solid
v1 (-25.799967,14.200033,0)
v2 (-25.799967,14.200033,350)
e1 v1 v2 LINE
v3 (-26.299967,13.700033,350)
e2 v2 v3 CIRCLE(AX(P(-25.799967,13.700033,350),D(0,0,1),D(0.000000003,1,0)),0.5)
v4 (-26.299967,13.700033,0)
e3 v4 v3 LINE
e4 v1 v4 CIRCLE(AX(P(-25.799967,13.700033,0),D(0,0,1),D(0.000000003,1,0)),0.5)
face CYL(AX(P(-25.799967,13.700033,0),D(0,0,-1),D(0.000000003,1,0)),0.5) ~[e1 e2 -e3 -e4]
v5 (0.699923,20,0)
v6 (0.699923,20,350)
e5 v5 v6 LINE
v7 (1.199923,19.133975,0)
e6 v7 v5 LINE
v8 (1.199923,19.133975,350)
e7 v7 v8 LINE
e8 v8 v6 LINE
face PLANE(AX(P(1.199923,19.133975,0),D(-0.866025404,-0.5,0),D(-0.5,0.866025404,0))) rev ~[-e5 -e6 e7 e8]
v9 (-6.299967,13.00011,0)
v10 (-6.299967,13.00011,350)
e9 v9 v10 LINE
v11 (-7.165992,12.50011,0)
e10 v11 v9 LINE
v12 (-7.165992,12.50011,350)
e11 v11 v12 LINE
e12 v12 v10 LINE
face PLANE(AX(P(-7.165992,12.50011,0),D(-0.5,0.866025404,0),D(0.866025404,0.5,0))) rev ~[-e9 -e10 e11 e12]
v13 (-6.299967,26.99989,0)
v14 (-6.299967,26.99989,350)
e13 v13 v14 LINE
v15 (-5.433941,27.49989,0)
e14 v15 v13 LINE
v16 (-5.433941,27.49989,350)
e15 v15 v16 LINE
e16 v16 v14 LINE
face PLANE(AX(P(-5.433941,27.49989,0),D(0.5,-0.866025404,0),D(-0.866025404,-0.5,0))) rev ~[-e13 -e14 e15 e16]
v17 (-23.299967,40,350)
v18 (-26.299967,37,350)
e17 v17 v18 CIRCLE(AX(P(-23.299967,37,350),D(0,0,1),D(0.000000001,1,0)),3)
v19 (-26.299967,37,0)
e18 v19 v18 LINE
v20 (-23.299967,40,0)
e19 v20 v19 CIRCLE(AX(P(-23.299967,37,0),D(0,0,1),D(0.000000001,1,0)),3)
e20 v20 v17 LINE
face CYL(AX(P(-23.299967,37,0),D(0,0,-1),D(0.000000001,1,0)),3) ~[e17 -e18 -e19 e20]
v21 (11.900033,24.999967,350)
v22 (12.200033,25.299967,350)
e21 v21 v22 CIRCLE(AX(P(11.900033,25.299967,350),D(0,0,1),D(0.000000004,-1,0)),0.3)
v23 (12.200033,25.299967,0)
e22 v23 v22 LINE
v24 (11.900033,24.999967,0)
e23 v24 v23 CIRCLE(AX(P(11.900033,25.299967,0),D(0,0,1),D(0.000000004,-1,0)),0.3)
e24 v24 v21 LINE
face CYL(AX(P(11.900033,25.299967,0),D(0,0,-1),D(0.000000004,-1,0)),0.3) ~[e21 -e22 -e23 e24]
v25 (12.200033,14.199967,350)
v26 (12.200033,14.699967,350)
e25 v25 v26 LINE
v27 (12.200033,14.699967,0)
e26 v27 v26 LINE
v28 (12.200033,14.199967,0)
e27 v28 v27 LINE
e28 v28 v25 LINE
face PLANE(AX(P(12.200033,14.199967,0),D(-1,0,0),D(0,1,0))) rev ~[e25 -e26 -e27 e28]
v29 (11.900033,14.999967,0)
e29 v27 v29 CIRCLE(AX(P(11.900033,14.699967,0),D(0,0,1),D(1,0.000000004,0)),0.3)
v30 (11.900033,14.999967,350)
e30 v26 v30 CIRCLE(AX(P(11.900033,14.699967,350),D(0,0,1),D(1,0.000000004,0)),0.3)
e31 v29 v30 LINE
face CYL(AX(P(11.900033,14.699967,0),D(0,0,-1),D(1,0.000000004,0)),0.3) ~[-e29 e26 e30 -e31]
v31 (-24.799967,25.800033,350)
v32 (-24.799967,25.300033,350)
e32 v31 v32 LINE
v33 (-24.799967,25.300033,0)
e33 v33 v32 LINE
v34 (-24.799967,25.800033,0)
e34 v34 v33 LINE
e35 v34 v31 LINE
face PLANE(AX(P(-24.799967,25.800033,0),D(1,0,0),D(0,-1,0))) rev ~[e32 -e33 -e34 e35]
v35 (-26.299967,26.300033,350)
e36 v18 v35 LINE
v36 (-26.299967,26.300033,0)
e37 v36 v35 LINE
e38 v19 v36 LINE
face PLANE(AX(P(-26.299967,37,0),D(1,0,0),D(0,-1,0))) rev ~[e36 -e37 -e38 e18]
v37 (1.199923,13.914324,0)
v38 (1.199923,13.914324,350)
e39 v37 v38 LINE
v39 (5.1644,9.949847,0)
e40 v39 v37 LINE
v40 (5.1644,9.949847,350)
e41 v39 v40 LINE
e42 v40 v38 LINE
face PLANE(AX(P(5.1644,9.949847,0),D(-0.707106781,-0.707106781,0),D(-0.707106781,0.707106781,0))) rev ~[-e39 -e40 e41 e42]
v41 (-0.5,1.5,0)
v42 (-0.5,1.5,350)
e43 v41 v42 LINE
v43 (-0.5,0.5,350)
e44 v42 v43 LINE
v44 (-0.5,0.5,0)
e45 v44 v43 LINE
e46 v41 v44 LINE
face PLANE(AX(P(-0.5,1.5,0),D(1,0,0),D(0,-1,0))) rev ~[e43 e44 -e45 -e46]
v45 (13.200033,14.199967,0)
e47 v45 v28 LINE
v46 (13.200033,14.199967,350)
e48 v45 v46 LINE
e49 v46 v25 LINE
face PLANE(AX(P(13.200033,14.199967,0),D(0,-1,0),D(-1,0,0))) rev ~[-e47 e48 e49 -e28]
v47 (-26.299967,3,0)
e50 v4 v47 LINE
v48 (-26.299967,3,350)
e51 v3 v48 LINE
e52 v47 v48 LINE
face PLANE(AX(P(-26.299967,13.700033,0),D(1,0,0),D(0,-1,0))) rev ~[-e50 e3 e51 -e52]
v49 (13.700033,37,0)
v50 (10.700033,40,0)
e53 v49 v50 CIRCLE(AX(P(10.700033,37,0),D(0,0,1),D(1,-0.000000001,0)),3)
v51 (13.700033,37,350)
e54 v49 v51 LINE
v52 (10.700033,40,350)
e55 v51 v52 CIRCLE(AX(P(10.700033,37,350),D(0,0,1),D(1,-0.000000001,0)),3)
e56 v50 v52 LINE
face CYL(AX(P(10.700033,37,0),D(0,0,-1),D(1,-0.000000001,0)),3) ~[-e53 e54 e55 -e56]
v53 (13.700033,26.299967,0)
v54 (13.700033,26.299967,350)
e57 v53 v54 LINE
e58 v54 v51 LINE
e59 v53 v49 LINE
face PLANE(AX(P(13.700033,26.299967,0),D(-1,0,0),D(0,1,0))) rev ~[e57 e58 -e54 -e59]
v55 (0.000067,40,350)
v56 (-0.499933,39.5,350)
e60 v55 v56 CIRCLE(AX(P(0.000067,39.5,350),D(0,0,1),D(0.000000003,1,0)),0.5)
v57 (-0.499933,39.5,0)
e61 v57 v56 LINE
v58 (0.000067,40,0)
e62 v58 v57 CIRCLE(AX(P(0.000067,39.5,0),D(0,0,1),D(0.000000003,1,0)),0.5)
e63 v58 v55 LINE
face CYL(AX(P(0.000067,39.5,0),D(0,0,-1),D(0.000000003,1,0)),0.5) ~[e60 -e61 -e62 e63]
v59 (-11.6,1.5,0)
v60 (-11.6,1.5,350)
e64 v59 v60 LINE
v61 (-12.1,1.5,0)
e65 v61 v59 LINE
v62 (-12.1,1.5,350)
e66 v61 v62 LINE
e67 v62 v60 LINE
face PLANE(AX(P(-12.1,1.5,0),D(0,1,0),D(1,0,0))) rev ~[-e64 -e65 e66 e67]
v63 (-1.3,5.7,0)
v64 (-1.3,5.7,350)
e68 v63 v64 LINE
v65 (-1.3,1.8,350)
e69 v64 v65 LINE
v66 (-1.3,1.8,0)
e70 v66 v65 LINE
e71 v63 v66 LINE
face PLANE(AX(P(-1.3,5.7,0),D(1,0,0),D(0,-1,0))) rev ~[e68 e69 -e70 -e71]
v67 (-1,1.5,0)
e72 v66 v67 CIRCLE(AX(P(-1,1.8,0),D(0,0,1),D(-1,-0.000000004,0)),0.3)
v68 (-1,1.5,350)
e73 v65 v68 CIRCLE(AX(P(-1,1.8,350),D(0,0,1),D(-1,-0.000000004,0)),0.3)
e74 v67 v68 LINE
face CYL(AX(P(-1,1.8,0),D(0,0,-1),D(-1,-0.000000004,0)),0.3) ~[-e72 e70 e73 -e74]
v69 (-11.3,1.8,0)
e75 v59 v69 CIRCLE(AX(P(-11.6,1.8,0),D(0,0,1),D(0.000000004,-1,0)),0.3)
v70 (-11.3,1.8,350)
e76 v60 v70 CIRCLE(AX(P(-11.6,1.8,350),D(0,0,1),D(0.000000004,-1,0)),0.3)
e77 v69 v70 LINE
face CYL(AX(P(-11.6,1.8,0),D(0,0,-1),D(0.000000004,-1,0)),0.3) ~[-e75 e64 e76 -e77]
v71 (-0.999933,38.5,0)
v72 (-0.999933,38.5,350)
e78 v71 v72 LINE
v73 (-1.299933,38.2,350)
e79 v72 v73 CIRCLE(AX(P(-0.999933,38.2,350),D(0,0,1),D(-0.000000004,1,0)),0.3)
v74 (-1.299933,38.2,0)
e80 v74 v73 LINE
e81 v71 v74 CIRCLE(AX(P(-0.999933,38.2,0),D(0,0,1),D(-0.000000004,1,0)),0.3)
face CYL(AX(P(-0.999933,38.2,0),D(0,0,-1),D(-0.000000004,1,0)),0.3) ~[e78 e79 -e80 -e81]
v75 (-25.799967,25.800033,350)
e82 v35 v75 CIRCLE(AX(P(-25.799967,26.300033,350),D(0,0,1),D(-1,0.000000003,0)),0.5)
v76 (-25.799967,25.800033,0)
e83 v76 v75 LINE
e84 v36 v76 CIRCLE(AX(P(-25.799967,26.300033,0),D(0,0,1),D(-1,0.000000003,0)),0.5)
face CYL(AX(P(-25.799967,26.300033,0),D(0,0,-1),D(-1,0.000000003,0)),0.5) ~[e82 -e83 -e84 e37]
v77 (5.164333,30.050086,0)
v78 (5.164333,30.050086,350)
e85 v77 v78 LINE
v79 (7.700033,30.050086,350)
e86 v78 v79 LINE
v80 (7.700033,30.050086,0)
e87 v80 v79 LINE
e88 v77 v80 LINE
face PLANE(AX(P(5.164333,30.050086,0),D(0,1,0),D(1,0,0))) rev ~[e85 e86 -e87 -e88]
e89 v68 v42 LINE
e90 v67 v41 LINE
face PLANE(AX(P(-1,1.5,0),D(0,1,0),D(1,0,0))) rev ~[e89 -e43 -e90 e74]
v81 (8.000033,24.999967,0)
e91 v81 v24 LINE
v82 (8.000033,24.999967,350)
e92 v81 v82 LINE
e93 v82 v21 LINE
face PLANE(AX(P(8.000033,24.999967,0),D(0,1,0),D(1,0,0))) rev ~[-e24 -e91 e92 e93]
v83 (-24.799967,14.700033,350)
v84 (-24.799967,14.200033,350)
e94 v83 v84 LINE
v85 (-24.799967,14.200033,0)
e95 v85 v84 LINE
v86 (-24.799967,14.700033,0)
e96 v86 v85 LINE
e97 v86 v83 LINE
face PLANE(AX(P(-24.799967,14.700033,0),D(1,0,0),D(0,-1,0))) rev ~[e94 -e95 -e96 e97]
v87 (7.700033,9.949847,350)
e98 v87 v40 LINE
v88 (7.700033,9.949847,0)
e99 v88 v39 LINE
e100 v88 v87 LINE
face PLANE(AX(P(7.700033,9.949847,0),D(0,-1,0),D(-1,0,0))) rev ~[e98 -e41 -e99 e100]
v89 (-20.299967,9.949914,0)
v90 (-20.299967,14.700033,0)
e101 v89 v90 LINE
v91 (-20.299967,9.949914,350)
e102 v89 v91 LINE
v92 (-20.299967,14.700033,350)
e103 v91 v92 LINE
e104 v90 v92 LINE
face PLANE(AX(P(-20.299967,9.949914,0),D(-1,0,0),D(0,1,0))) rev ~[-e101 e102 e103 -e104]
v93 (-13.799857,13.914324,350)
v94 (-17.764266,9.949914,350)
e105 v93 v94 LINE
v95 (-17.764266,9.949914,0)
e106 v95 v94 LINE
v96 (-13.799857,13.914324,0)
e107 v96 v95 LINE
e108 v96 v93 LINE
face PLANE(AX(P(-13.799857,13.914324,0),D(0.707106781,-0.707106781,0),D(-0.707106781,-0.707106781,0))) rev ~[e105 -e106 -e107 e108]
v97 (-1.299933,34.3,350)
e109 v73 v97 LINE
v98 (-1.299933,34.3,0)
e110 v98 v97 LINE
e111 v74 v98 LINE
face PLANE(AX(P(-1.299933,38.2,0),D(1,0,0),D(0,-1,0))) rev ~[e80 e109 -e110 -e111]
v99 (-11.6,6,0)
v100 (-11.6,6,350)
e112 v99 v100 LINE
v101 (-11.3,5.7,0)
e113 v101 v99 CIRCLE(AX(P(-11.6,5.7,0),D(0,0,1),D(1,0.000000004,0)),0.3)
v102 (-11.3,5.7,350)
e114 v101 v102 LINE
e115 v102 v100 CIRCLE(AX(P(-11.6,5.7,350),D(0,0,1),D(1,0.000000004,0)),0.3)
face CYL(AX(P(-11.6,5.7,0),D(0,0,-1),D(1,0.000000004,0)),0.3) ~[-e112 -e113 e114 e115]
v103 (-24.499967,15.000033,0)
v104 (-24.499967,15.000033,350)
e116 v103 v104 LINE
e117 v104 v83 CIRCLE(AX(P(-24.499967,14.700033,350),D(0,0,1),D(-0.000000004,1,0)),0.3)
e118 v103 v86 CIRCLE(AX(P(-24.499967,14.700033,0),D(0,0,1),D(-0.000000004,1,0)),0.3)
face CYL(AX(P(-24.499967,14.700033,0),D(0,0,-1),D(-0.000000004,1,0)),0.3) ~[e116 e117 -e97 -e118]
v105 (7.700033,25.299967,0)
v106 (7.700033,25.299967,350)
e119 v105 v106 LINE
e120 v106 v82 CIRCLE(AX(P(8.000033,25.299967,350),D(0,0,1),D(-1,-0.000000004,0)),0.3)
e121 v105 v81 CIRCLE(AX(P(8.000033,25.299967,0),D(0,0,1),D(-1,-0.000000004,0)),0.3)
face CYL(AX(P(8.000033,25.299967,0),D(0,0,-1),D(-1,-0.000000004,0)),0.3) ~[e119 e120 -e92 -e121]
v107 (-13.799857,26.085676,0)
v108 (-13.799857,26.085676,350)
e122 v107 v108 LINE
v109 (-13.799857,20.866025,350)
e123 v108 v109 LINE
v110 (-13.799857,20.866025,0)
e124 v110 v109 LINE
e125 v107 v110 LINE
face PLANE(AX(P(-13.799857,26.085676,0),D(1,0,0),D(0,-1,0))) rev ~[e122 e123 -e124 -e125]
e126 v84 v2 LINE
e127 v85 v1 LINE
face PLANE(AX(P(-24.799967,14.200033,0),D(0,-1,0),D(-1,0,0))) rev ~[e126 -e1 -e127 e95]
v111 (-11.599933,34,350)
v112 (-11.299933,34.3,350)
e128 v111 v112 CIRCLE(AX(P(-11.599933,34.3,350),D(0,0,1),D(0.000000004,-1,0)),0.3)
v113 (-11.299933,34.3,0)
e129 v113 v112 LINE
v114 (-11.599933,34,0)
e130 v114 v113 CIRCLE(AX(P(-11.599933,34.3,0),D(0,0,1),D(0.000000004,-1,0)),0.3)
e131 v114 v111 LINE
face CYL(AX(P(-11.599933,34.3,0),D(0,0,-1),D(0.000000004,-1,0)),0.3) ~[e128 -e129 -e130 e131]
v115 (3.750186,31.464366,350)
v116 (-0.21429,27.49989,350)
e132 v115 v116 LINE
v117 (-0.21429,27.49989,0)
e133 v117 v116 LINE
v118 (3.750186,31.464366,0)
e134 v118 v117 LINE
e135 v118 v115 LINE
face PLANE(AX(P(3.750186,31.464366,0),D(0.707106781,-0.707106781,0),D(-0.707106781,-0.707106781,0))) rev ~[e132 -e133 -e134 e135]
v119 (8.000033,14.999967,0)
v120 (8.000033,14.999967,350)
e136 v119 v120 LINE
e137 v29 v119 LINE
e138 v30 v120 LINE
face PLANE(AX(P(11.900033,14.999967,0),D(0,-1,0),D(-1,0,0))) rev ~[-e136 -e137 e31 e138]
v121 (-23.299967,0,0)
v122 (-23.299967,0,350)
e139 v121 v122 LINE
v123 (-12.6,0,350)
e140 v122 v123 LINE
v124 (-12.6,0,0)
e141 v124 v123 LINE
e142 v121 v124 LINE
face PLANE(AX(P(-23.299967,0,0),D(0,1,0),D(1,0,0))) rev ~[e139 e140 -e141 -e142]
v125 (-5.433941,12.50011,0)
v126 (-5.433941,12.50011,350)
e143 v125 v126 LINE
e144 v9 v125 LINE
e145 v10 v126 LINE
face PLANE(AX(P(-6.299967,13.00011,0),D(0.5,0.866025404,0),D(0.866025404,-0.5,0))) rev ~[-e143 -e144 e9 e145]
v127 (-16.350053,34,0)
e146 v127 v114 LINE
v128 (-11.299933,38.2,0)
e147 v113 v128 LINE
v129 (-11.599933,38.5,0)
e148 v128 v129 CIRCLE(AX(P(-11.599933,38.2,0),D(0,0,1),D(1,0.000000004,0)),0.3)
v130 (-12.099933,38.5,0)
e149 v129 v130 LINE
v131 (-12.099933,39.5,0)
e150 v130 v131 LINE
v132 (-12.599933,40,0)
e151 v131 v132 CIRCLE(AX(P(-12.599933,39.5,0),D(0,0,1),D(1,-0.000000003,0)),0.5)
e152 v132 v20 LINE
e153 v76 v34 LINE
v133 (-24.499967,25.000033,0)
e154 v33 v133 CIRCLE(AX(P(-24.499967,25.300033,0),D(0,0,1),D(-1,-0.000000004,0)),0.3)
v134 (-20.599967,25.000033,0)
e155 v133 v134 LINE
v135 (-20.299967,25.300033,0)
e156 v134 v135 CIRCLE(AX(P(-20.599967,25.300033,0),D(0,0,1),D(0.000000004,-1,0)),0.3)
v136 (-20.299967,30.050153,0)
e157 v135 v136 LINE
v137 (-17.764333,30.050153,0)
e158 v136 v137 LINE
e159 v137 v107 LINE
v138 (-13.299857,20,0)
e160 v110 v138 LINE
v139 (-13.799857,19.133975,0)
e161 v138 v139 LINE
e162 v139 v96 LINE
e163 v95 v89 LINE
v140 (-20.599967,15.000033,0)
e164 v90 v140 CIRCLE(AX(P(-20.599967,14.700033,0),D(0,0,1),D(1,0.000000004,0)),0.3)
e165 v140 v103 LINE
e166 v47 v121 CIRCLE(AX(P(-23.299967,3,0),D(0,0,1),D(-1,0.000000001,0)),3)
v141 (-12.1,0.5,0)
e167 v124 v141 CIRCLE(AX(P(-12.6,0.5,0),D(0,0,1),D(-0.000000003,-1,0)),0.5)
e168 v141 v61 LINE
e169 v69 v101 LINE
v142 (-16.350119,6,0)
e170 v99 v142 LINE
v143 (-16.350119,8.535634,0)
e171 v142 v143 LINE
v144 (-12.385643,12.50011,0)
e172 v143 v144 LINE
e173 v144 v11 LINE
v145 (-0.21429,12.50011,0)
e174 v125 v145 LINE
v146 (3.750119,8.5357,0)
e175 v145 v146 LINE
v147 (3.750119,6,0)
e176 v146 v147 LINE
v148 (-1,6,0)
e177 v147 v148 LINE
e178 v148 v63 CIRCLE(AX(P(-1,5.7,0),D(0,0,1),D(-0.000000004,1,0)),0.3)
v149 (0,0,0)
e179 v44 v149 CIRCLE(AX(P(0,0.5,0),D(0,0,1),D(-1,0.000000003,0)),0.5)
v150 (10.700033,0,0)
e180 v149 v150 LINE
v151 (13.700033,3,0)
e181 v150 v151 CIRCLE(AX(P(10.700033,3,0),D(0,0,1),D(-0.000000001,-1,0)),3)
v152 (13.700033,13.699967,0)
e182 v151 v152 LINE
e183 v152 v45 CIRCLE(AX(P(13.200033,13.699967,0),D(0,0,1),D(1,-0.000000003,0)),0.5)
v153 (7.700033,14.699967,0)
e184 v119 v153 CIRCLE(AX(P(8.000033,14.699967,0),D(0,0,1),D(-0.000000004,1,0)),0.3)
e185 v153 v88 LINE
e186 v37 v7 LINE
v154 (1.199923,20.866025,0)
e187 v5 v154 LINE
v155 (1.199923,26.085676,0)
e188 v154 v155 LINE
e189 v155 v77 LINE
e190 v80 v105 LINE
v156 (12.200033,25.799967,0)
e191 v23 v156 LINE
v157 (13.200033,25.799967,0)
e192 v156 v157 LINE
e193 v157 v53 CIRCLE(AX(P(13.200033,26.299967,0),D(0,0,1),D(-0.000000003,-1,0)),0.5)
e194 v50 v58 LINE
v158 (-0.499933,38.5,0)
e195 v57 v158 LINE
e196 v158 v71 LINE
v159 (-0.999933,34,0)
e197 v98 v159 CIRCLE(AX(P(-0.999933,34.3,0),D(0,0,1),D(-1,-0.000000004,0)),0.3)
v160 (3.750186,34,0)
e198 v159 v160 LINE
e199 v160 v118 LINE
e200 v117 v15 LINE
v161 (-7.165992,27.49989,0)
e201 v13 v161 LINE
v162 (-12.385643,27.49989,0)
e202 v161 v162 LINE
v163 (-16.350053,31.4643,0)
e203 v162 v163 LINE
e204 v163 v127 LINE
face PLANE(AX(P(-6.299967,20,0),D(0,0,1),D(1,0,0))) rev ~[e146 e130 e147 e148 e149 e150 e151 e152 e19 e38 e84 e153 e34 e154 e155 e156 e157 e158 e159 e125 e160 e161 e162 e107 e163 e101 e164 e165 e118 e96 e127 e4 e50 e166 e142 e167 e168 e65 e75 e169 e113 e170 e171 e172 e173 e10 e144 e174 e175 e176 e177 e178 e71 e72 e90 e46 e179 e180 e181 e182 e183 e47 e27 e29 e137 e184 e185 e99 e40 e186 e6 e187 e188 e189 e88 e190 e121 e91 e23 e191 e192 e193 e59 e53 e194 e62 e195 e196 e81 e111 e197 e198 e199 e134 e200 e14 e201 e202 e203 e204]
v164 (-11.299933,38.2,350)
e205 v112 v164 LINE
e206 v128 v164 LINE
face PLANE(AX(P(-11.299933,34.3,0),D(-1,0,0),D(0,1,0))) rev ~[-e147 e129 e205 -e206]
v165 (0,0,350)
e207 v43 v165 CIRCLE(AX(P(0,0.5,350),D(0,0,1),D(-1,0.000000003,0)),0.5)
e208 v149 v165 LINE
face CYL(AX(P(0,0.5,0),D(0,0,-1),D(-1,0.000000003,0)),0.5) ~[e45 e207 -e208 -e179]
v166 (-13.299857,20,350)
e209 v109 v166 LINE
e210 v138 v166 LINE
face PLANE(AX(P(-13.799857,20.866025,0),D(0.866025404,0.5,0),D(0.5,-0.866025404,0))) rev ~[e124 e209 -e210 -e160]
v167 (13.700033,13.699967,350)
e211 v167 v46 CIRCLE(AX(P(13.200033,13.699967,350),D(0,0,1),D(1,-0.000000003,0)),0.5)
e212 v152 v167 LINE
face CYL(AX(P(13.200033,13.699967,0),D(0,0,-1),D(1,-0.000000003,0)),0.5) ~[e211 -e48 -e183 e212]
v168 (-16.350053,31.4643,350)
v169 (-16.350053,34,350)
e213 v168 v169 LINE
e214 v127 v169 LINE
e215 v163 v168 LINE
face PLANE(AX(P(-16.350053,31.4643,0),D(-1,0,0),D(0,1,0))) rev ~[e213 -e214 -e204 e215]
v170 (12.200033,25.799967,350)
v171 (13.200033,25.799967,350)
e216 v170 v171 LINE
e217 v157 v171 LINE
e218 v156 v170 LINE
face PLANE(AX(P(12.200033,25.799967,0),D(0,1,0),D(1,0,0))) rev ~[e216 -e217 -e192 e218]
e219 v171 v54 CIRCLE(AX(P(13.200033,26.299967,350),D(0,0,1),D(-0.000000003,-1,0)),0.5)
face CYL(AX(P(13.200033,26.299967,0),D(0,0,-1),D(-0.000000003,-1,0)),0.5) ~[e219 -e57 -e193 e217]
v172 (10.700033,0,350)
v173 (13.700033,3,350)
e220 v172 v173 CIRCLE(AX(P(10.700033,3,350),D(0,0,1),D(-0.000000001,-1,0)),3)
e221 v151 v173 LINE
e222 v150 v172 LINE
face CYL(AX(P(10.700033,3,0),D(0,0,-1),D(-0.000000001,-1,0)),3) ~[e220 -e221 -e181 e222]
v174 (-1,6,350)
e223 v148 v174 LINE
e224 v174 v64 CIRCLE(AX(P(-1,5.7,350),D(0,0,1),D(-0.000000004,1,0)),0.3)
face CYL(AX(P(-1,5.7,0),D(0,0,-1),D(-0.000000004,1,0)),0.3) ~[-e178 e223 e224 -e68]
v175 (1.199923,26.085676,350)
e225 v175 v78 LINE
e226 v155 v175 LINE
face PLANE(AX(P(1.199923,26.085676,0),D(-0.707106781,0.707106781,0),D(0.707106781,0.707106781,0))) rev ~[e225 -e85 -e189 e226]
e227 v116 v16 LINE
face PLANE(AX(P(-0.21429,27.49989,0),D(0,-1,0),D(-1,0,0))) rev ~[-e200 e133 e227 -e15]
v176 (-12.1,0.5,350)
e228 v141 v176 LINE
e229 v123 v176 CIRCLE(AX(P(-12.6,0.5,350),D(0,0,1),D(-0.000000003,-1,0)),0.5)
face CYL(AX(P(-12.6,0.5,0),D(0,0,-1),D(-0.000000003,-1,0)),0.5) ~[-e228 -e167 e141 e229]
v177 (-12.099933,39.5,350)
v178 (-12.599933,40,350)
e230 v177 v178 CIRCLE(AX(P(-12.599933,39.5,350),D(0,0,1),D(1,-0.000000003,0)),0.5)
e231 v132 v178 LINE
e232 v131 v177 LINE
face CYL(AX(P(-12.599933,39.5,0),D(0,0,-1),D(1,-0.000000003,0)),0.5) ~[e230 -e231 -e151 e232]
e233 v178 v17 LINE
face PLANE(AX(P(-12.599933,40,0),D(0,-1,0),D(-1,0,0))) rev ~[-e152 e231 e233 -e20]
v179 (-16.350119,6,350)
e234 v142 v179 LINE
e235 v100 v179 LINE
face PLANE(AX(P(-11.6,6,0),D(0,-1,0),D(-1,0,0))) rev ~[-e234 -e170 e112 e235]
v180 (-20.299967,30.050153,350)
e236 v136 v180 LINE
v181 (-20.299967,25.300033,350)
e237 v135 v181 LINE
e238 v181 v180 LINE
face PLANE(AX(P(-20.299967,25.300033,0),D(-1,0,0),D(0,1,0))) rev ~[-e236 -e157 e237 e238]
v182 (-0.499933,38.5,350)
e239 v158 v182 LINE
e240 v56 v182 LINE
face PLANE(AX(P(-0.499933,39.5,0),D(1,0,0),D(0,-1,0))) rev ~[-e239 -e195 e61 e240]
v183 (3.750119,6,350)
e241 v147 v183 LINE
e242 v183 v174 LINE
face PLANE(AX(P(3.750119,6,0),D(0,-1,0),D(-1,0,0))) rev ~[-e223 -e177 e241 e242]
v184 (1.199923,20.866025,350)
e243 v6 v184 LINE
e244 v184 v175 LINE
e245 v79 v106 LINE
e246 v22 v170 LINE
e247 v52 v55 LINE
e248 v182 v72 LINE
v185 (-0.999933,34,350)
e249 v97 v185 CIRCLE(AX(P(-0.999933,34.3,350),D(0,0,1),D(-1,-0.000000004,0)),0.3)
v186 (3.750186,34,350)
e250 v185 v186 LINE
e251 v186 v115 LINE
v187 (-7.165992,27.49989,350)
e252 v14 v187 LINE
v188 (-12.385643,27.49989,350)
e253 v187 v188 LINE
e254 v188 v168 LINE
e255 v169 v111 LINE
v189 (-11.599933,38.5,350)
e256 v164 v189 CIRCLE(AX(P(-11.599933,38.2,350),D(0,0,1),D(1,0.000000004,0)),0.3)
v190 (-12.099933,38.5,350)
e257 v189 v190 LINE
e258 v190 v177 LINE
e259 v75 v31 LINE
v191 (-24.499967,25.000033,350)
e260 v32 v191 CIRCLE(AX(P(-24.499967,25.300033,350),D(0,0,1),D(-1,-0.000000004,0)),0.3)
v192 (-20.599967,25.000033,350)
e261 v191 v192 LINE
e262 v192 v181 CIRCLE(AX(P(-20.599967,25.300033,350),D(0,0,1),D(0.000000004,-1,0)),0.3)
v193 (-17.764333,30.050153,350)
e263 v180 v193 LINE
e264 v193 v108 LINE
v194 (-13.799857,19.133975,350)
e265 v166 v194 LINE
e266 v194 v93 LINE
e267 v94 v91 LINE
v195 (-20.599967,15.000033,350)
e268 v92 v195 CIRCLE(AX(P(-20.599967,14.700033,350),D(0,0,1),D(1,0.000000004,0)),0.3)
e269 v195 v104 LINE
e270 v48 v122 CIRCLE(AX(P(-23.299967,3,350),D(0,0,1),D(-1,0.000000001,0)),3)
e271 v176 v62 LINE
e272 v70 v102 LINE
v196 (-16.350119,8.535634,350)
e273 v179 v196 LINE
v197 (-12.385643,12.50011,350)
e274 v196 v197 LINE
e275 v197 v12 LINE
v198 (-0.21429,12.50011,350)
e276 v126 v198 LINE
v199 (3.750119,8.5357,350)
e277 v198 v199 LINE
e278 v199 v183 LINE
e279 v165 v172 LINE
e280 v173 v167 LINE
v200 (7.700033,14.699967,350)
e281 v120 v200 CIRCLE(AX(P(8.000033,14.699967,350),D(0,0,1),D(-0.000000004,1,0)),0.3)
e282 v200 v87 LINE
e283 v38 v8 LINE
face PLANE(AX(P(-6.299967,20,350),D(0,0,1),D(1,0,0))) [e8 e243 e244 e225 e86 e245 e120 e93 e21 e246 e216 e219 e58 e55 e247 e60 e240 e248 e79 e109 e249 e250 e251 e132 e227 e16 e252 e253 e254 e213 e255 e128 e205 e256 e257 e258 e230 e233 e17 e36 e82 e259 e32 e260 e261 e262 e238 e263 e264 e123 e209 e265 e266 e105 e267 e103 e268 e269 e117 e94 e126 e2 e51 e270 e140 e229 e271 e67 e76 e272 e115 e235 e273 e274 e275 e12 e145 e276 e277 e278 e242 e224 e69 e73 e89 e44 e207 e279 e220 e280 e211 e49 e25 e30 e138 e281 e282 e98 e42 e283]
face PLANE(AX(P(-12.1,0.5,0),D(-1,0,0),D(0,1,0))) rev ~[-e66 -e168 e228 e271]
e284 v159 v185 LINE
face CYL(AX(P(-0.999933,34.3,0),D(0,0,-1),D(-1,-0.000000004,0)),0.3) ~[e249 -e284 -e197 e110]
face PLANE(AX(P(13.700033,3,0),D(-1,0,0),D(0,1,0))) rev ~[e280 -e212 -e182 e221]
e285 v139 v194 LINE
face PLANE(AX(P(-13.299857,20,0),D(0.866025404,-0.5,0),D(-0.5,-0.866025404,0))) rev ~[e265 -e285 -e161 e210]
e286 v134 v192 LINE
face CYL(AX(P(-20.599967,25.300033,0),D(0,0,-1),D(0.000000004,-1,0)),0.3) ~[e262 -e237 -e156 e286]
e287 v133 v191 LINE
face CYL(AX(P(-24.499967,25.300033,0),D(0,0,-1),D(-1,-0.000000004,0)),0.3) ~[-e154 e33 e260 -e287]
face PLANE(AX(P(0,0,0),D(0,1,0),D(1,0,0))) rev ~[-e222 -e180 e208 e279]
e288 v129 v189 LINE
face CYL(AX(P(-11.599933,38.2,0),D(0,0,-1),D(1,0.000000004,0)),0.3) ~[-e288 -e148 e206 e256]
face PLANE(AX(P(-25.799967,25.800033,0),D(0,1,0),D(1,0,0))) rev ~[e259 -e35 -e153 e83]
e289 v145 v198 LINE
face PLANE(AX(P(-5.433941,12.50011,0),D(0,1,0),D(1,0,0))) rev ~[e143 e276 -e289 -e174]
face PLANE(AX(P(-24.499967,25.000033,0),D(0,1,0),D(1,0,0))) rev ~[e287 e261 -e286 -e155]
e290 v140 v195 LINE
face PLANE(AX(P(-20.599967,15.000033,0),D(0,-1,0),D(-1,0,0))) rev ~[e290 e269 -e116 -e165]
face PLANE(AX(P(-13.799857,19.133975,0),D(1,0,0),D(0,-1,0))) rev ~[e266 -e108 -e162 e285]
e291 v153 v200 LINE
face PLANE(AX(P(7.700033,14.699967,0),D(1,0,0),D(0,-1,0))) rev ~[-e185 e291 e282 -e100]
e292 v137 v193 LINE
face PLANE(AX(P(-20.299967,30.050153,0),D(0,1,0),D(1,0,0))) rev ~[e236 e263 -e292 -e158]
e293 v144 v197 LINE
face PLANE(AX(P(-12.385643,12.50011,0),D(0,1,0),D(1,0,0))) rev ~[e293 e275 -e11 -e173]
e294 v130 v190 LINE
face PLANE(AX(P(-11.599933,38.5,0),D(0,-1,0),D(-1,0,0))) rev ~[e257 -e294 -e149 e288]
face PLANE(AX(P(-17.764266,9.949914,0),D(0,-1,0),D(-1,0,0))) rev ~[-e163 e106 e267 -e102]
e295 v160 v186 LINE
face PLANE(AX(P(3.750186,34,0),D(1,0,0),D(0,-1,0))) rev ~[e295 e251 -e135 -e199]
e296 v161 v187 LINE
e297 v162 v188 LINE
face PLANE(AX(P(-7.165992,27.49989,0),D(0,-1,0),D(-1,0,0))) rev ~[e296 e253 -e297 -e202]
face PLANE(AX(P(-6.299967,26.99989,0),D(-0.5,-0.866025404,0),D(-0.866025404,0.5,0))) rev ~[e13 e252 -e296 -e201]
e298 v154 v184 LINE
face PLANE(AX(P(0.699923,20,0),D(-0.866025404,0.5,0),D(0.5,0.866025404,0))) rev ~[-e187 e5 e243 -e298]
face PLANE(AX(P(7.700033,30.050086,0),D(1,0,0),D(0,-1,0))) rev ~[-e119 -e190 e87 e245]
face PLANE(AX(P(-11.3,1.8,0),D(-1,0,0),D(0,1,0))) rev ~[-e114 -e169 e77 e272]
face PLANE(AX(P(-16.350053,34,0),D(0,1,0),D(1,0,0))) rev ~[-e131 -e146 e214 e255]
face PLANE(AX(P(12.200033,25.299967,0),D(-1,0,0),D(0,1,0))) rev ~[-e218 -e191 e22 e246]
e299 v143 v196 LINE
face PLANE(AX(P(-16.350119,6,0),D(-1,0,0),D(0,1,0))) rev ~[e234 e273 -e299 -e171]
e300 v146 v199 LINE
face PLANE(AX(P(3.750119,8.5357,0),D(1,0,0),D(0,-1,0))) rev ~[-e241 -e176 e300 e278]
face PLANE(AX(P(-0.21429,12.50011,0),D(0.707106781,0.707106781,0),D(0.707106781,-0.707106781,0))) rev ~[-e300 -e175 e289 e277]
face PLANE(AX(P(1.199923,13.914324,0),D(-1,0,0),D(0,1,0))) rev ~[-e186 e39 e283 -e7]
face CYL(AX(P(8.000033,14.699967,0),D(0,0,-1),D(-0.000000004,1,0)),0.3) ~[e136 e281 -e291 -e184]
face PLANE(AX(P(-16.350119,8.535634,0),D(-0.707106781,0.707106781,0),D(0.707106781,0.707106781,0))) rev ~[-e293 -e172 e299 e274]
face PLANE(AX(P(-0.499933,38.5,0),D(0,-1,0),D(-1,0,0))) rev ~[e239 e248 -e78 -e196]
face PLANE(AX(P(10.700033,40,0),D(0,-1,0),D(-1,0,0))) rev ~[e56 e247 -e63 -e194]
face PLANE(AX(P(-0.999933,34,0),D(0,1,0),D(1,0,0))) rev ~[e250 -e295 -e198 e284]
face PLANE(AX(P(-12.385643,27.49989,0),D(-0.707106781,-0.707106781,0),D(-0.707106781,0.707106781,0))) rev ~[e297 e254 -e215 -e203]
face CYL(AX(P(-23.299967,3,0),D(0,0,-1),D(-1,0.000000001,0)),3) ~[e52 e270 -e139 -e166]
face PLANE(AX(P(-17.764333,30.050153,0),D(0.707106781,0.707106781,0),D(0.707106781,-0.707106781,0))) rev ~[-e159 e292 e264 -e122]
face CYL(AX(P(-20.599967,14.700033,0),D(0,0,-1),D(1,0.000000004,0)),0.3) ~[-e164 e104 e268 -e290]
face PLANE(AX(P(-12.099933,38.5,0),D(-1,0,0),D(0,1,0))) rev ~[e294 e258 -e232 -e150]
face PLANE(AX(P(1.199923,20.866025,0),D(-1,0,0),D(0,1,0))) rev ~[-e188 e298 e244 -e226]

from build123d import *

# Parameters (mm, degrees)
BOSS_EXTRUDE1_DEPTH = 350


with BuildPart() as part:
    # Sketch2 → Boss-Extrude1 (new body)
    with BuildSketch(Plane.XY):
        with BuildLine():
            Line((-20.29996667, 9.949913991), (-20.29996667, 14.70003333))
            ThreePointArc((-20.29996667, 14.70003333), (-20.387834636, 14.912165364), (-20.59996667, 15.00003333))
            Line((-20.59996667, 15.00003333), (-24.49996667, 15.00003333))
            ThreePointArc((-24.49996667, 15.00003333), (-24.712098704, 14.912165364), (-24.79996667, 14.70003333))
            Line((-24.79996667, 14.70003333), (-24.79996667, 14.20003333))
            Line((-24.79996667, 14.20003333), (-25.79996667, 14.20003333))
            ThreePointArc((-25.79996667, 14.20003333), (-26.153520061, 14.053586721), (-26.29996667, 13.70003333))
            Line((-26.29996667, 13.70003333), (-26.29996667, 3))
            ThreePointArc((-26.29996667, 3), (-25.421287014, 0.878679656), (-23.29996667, 0))
            Line((-23.29996667, 0), (-12.6, 0))
            ThreePointArc((-12.6, 0), (-12.246446609, 0.146446609), (-12.1, 0.5))
            Line((-12.1, 0.5), (-12.1, 1.5))
            Line((-12.1, 1.5), (-11.6, 1.5))
            ThreePointArc((-11.6, 1.5), (-11.387867966, 1.587867966), (-11.3, 1.8))
            Line((-11.3, 1.8), (-11.3, 5.7))
            ThreePointArc((-11.3, 5.7), (-11.387867966, 5.912132034), (-11.6, 6))
            Line((-11.6, 6), (-16.350119339, 6))
            Line((-16.350119339, 6), (-16.350119339, 8.535633769))
            Line((-16.350119339, 8.535633769), (-12.385643087, 12.500110021))
            Line((-12.385643087, 12.500110021), (-7.165992074, 12.500110021))
            Line((-7.165992074, 12.500110021), (-6.29996667, 13.000110021))
            Line((-6.29996667, 13.000110021), (-5.433941266, 12.500110021))
            Line((-5.433941266, 12.500110021), (-0.214290253, 12.500110021))
            Line((-0.214290253, 12.500110021), (3.750119339, 8.535700429))
            Line((3.750119339, 8.535700429), (3.750119339, 6))
            Line((3.750119339, 6), (-1, 6))
            ThreePointArc((-1, 6), (-1.212132034, 5.912132034), (-1.3, 5.7))
            Line((-1.3, 5.7), (-1.3, 1.8))
            ThreePointArc((-1.3, 1.8), (-1.212132034, 1.587867966), (-1, 1.5))
            Line((-1, 1.5), (-0.5, 1.5))
            Line((-0.5, 1.5), (-0.5, 0.5))
            ThreePointArc((-0.5, 0.5), (-0.353553391, 0.146446609), (0, 0))
            Line((0, 0), (10.70003333, 0))
            ThreePointArc((10.70003333, 0), (12.821353674, 0.878679656), (13.70003333, 3))
            Line((13.70003333, 3), (13.70003333, 13.69996667))
            ThreePointArc((13.70003333, 13.69996667), (13.553586721, 14.053520061), (13.20003333, 14.19996667))
            Line((13.20003333, 14.19996667), (12.20003333, 14.19996667))
            Line((12.20003333, 14.19996667), (12.20003333, 14.69996667))
            ThreePointArc((12.20003333, 14.69996667), (12.112165364, 14.912098704), (11.90003333, 14.99996667))
            Line((11.90003333, 14.99996667), (8.00003333, 14.99996667))
            ThreePointArc((8.00003333, 14.99996667), (7.787901296, 14.912098704), (7.70003333, 14.69996667))
            Line((7.70003333, 14.69996667), (7.70003333, 9.949847331))
            Line((7.70003333, 9.949847331), (5.164399561, 9.949847331))
            Line((5.164399561, 9.949847331), (1.199923309, 13.914323583))
            Line((1.199923309, 13.914323583), (1.199923309, 19.133974596))
            Line((1.199923309, 19.133974596), (0.699923309, 20))
            Line((0.699923309, 20), (1.199923309, 20.866025404))
            Line((1.199923309, 20.866025404), (1.199923309, 26.085676417))
            Line((1.199923309, 26.085676417), (5.164332901, 30.050086009))
            Line((5.164332901, 30.050086009), (7.70003333, 30.050086009))
            Line((7.70003333, 30.050086009), (7.70003333, 25.29996667))
            ThreePointArc((7.70003333, 25.29996667), (7.787901296, 25.087834636), (8.00003333, 24.99996667))
            Line((8.00003333, 24.99996667), (11.90003333, 24.99996667))
            ThreePointArc((11.90003333, 24.99996667), (12.112165364, 25.087834636), (12.20003333, 25.29996667))
            Line((12.20003333, 25.29996667), (12.20003333, 25.79996667))
            Line((12.20003333, 25.79996667), (13.20003333, 25.79996667))
            ThreePointArc((13.20003333, 25.79996667), (13.553586721, 25.946413279), (13.70003333, 26.29996667))
            Line((13.70003333, 26.29996667), (13.70003333, 37))
            ThreePointArc((13.70003333, 37), (12.821353674, 39.121320344), (10.70003333, 40))
            Line((10.70003333, 40), (6.666e-05, 40))
            ThreePointArc((6.666e-05, 40), (-0.353486731, 39.853553391), (-0.49993334, 39.5))
            Line((-0.49993334, 39.5), (-0.49993334, 38.5))
            Line((-0.49993334, 38.5), (-0.99993334, 38.5))
            ThreePointArc((-0.99993334, 38.5), (-1.212065374, 38.412132034), (-1.29993334, 38.2))
            Line((-1.29993334, 38.2), (-1.29993334, 34.3))
            ThreePointArc((-1.29993334, 34.3), (-1.212065374, 34.087867966), (-0.99993334, 34))
            Line((-0.99993334, 34), (3.750185999, 34))
            Line((3.750185999, 34), (3.750185999, 31.464366231))
            Line((3.750185999, 31.464366231), (-0.214290253, 27.499889979))
            Line((-0.214290253, 27.499889979), (-5.433941266, 27.499889979))
            Line((-5.433941266, 27.499889979), (-6.29996667, 26.999889979))
            Line((-6.29996667, 26.999889979), (-7.165992074, 27.499889979))
            Line((-7.165992074, 27.499889979), (-12.385643087, 27.499889979))
            Line((-12.385643087, 27.499889979), (-16.350052679, 31.464299571))
            Line((-16.350052679, 31.464299571), (-16.350052679, 34))
            Line((-16.350052679, 34), (-11.59993334, 34))
            ThreePointArc((-11.59993334, 34), (-11.387801306, 34.087867966), (-11.29993334, 34.3))
            Line((-11.29993334, 34.3), (-11.29993334, 38.2))
            ThreePointArc((-11.29993334, 38.2), (-11.387801306, 38.412132034), (-11.59993334, 38.5))
            Line((-11.59993334, 38.5), (-12.09993334, 38.5))
            Line((-12.09993334, 38.5), (-12.09993334, 39.5))
            ThreePointArc((-12.09993334, 39.5), (-12.246379949, 39.853553391), (-12.59993334, 40))
            Line((-12.59993334, 40), (-23.29996667, 40))
            ThreePointArc((-23.29996667, 40), (-25.421287014, 39.121320344), (-26.29996667, 37))
            Line((-26.29996667, 37), (-26.29996667, 26.30003333))
            ThreePointArc((-26.29996667, 26.30003333), (-26.153520061, 25.946479939), (-25.79996667, 25.80003333))
            Line((-25.79996667, 25.80003333), (-24.79996667, 25.80003333))
            Line((-24.79996667, 25.80003333), (-24.79996667, 25.30003333))
            ThreePointArc((-24.79996667, 25.30003333), (-24.712098704, 25.087901296), (-24.49996667, 25.00003333))
            Line((-24.49996667, 25.00003333), (-20.59996667, 25.00003333))
            ThreePointArc((-20.59996667, 25.00003333), (-20.387834636, 25.087901296), (-20.29996667, 25.30003333))
            Line((-20.29996667, 25.30003333), (-20.29996667, 30.050152669))
            Line((-20.29996667, 30.050152669), (-17.764332901, 30.050152669))
            Line((-17.764332901, 30.050152669), (-13.799856649, 26.085676417))
            Line((-13.799856649, 26.085676417), (-13.799856649, 20.866025404))
            Line((-13.799856649, 20.866025404), (-13.299856649, 20))
            Line((-13.299856649, 20), (-13.799856649, 19.133974596))
            Line((-13.799856649, 19.133974596), (-13.799856649, 13.914323583))
            Line((-13.799856649, 13.914323583), (-17.764266241, 9.949913991))
            Line((-17.764266241, 9.949913991), (-20.29996667, 9.949913991))
        make_face()
    extrude(amount=BOSS_EXTRUDE1_DEPTH)


solid = part.part
